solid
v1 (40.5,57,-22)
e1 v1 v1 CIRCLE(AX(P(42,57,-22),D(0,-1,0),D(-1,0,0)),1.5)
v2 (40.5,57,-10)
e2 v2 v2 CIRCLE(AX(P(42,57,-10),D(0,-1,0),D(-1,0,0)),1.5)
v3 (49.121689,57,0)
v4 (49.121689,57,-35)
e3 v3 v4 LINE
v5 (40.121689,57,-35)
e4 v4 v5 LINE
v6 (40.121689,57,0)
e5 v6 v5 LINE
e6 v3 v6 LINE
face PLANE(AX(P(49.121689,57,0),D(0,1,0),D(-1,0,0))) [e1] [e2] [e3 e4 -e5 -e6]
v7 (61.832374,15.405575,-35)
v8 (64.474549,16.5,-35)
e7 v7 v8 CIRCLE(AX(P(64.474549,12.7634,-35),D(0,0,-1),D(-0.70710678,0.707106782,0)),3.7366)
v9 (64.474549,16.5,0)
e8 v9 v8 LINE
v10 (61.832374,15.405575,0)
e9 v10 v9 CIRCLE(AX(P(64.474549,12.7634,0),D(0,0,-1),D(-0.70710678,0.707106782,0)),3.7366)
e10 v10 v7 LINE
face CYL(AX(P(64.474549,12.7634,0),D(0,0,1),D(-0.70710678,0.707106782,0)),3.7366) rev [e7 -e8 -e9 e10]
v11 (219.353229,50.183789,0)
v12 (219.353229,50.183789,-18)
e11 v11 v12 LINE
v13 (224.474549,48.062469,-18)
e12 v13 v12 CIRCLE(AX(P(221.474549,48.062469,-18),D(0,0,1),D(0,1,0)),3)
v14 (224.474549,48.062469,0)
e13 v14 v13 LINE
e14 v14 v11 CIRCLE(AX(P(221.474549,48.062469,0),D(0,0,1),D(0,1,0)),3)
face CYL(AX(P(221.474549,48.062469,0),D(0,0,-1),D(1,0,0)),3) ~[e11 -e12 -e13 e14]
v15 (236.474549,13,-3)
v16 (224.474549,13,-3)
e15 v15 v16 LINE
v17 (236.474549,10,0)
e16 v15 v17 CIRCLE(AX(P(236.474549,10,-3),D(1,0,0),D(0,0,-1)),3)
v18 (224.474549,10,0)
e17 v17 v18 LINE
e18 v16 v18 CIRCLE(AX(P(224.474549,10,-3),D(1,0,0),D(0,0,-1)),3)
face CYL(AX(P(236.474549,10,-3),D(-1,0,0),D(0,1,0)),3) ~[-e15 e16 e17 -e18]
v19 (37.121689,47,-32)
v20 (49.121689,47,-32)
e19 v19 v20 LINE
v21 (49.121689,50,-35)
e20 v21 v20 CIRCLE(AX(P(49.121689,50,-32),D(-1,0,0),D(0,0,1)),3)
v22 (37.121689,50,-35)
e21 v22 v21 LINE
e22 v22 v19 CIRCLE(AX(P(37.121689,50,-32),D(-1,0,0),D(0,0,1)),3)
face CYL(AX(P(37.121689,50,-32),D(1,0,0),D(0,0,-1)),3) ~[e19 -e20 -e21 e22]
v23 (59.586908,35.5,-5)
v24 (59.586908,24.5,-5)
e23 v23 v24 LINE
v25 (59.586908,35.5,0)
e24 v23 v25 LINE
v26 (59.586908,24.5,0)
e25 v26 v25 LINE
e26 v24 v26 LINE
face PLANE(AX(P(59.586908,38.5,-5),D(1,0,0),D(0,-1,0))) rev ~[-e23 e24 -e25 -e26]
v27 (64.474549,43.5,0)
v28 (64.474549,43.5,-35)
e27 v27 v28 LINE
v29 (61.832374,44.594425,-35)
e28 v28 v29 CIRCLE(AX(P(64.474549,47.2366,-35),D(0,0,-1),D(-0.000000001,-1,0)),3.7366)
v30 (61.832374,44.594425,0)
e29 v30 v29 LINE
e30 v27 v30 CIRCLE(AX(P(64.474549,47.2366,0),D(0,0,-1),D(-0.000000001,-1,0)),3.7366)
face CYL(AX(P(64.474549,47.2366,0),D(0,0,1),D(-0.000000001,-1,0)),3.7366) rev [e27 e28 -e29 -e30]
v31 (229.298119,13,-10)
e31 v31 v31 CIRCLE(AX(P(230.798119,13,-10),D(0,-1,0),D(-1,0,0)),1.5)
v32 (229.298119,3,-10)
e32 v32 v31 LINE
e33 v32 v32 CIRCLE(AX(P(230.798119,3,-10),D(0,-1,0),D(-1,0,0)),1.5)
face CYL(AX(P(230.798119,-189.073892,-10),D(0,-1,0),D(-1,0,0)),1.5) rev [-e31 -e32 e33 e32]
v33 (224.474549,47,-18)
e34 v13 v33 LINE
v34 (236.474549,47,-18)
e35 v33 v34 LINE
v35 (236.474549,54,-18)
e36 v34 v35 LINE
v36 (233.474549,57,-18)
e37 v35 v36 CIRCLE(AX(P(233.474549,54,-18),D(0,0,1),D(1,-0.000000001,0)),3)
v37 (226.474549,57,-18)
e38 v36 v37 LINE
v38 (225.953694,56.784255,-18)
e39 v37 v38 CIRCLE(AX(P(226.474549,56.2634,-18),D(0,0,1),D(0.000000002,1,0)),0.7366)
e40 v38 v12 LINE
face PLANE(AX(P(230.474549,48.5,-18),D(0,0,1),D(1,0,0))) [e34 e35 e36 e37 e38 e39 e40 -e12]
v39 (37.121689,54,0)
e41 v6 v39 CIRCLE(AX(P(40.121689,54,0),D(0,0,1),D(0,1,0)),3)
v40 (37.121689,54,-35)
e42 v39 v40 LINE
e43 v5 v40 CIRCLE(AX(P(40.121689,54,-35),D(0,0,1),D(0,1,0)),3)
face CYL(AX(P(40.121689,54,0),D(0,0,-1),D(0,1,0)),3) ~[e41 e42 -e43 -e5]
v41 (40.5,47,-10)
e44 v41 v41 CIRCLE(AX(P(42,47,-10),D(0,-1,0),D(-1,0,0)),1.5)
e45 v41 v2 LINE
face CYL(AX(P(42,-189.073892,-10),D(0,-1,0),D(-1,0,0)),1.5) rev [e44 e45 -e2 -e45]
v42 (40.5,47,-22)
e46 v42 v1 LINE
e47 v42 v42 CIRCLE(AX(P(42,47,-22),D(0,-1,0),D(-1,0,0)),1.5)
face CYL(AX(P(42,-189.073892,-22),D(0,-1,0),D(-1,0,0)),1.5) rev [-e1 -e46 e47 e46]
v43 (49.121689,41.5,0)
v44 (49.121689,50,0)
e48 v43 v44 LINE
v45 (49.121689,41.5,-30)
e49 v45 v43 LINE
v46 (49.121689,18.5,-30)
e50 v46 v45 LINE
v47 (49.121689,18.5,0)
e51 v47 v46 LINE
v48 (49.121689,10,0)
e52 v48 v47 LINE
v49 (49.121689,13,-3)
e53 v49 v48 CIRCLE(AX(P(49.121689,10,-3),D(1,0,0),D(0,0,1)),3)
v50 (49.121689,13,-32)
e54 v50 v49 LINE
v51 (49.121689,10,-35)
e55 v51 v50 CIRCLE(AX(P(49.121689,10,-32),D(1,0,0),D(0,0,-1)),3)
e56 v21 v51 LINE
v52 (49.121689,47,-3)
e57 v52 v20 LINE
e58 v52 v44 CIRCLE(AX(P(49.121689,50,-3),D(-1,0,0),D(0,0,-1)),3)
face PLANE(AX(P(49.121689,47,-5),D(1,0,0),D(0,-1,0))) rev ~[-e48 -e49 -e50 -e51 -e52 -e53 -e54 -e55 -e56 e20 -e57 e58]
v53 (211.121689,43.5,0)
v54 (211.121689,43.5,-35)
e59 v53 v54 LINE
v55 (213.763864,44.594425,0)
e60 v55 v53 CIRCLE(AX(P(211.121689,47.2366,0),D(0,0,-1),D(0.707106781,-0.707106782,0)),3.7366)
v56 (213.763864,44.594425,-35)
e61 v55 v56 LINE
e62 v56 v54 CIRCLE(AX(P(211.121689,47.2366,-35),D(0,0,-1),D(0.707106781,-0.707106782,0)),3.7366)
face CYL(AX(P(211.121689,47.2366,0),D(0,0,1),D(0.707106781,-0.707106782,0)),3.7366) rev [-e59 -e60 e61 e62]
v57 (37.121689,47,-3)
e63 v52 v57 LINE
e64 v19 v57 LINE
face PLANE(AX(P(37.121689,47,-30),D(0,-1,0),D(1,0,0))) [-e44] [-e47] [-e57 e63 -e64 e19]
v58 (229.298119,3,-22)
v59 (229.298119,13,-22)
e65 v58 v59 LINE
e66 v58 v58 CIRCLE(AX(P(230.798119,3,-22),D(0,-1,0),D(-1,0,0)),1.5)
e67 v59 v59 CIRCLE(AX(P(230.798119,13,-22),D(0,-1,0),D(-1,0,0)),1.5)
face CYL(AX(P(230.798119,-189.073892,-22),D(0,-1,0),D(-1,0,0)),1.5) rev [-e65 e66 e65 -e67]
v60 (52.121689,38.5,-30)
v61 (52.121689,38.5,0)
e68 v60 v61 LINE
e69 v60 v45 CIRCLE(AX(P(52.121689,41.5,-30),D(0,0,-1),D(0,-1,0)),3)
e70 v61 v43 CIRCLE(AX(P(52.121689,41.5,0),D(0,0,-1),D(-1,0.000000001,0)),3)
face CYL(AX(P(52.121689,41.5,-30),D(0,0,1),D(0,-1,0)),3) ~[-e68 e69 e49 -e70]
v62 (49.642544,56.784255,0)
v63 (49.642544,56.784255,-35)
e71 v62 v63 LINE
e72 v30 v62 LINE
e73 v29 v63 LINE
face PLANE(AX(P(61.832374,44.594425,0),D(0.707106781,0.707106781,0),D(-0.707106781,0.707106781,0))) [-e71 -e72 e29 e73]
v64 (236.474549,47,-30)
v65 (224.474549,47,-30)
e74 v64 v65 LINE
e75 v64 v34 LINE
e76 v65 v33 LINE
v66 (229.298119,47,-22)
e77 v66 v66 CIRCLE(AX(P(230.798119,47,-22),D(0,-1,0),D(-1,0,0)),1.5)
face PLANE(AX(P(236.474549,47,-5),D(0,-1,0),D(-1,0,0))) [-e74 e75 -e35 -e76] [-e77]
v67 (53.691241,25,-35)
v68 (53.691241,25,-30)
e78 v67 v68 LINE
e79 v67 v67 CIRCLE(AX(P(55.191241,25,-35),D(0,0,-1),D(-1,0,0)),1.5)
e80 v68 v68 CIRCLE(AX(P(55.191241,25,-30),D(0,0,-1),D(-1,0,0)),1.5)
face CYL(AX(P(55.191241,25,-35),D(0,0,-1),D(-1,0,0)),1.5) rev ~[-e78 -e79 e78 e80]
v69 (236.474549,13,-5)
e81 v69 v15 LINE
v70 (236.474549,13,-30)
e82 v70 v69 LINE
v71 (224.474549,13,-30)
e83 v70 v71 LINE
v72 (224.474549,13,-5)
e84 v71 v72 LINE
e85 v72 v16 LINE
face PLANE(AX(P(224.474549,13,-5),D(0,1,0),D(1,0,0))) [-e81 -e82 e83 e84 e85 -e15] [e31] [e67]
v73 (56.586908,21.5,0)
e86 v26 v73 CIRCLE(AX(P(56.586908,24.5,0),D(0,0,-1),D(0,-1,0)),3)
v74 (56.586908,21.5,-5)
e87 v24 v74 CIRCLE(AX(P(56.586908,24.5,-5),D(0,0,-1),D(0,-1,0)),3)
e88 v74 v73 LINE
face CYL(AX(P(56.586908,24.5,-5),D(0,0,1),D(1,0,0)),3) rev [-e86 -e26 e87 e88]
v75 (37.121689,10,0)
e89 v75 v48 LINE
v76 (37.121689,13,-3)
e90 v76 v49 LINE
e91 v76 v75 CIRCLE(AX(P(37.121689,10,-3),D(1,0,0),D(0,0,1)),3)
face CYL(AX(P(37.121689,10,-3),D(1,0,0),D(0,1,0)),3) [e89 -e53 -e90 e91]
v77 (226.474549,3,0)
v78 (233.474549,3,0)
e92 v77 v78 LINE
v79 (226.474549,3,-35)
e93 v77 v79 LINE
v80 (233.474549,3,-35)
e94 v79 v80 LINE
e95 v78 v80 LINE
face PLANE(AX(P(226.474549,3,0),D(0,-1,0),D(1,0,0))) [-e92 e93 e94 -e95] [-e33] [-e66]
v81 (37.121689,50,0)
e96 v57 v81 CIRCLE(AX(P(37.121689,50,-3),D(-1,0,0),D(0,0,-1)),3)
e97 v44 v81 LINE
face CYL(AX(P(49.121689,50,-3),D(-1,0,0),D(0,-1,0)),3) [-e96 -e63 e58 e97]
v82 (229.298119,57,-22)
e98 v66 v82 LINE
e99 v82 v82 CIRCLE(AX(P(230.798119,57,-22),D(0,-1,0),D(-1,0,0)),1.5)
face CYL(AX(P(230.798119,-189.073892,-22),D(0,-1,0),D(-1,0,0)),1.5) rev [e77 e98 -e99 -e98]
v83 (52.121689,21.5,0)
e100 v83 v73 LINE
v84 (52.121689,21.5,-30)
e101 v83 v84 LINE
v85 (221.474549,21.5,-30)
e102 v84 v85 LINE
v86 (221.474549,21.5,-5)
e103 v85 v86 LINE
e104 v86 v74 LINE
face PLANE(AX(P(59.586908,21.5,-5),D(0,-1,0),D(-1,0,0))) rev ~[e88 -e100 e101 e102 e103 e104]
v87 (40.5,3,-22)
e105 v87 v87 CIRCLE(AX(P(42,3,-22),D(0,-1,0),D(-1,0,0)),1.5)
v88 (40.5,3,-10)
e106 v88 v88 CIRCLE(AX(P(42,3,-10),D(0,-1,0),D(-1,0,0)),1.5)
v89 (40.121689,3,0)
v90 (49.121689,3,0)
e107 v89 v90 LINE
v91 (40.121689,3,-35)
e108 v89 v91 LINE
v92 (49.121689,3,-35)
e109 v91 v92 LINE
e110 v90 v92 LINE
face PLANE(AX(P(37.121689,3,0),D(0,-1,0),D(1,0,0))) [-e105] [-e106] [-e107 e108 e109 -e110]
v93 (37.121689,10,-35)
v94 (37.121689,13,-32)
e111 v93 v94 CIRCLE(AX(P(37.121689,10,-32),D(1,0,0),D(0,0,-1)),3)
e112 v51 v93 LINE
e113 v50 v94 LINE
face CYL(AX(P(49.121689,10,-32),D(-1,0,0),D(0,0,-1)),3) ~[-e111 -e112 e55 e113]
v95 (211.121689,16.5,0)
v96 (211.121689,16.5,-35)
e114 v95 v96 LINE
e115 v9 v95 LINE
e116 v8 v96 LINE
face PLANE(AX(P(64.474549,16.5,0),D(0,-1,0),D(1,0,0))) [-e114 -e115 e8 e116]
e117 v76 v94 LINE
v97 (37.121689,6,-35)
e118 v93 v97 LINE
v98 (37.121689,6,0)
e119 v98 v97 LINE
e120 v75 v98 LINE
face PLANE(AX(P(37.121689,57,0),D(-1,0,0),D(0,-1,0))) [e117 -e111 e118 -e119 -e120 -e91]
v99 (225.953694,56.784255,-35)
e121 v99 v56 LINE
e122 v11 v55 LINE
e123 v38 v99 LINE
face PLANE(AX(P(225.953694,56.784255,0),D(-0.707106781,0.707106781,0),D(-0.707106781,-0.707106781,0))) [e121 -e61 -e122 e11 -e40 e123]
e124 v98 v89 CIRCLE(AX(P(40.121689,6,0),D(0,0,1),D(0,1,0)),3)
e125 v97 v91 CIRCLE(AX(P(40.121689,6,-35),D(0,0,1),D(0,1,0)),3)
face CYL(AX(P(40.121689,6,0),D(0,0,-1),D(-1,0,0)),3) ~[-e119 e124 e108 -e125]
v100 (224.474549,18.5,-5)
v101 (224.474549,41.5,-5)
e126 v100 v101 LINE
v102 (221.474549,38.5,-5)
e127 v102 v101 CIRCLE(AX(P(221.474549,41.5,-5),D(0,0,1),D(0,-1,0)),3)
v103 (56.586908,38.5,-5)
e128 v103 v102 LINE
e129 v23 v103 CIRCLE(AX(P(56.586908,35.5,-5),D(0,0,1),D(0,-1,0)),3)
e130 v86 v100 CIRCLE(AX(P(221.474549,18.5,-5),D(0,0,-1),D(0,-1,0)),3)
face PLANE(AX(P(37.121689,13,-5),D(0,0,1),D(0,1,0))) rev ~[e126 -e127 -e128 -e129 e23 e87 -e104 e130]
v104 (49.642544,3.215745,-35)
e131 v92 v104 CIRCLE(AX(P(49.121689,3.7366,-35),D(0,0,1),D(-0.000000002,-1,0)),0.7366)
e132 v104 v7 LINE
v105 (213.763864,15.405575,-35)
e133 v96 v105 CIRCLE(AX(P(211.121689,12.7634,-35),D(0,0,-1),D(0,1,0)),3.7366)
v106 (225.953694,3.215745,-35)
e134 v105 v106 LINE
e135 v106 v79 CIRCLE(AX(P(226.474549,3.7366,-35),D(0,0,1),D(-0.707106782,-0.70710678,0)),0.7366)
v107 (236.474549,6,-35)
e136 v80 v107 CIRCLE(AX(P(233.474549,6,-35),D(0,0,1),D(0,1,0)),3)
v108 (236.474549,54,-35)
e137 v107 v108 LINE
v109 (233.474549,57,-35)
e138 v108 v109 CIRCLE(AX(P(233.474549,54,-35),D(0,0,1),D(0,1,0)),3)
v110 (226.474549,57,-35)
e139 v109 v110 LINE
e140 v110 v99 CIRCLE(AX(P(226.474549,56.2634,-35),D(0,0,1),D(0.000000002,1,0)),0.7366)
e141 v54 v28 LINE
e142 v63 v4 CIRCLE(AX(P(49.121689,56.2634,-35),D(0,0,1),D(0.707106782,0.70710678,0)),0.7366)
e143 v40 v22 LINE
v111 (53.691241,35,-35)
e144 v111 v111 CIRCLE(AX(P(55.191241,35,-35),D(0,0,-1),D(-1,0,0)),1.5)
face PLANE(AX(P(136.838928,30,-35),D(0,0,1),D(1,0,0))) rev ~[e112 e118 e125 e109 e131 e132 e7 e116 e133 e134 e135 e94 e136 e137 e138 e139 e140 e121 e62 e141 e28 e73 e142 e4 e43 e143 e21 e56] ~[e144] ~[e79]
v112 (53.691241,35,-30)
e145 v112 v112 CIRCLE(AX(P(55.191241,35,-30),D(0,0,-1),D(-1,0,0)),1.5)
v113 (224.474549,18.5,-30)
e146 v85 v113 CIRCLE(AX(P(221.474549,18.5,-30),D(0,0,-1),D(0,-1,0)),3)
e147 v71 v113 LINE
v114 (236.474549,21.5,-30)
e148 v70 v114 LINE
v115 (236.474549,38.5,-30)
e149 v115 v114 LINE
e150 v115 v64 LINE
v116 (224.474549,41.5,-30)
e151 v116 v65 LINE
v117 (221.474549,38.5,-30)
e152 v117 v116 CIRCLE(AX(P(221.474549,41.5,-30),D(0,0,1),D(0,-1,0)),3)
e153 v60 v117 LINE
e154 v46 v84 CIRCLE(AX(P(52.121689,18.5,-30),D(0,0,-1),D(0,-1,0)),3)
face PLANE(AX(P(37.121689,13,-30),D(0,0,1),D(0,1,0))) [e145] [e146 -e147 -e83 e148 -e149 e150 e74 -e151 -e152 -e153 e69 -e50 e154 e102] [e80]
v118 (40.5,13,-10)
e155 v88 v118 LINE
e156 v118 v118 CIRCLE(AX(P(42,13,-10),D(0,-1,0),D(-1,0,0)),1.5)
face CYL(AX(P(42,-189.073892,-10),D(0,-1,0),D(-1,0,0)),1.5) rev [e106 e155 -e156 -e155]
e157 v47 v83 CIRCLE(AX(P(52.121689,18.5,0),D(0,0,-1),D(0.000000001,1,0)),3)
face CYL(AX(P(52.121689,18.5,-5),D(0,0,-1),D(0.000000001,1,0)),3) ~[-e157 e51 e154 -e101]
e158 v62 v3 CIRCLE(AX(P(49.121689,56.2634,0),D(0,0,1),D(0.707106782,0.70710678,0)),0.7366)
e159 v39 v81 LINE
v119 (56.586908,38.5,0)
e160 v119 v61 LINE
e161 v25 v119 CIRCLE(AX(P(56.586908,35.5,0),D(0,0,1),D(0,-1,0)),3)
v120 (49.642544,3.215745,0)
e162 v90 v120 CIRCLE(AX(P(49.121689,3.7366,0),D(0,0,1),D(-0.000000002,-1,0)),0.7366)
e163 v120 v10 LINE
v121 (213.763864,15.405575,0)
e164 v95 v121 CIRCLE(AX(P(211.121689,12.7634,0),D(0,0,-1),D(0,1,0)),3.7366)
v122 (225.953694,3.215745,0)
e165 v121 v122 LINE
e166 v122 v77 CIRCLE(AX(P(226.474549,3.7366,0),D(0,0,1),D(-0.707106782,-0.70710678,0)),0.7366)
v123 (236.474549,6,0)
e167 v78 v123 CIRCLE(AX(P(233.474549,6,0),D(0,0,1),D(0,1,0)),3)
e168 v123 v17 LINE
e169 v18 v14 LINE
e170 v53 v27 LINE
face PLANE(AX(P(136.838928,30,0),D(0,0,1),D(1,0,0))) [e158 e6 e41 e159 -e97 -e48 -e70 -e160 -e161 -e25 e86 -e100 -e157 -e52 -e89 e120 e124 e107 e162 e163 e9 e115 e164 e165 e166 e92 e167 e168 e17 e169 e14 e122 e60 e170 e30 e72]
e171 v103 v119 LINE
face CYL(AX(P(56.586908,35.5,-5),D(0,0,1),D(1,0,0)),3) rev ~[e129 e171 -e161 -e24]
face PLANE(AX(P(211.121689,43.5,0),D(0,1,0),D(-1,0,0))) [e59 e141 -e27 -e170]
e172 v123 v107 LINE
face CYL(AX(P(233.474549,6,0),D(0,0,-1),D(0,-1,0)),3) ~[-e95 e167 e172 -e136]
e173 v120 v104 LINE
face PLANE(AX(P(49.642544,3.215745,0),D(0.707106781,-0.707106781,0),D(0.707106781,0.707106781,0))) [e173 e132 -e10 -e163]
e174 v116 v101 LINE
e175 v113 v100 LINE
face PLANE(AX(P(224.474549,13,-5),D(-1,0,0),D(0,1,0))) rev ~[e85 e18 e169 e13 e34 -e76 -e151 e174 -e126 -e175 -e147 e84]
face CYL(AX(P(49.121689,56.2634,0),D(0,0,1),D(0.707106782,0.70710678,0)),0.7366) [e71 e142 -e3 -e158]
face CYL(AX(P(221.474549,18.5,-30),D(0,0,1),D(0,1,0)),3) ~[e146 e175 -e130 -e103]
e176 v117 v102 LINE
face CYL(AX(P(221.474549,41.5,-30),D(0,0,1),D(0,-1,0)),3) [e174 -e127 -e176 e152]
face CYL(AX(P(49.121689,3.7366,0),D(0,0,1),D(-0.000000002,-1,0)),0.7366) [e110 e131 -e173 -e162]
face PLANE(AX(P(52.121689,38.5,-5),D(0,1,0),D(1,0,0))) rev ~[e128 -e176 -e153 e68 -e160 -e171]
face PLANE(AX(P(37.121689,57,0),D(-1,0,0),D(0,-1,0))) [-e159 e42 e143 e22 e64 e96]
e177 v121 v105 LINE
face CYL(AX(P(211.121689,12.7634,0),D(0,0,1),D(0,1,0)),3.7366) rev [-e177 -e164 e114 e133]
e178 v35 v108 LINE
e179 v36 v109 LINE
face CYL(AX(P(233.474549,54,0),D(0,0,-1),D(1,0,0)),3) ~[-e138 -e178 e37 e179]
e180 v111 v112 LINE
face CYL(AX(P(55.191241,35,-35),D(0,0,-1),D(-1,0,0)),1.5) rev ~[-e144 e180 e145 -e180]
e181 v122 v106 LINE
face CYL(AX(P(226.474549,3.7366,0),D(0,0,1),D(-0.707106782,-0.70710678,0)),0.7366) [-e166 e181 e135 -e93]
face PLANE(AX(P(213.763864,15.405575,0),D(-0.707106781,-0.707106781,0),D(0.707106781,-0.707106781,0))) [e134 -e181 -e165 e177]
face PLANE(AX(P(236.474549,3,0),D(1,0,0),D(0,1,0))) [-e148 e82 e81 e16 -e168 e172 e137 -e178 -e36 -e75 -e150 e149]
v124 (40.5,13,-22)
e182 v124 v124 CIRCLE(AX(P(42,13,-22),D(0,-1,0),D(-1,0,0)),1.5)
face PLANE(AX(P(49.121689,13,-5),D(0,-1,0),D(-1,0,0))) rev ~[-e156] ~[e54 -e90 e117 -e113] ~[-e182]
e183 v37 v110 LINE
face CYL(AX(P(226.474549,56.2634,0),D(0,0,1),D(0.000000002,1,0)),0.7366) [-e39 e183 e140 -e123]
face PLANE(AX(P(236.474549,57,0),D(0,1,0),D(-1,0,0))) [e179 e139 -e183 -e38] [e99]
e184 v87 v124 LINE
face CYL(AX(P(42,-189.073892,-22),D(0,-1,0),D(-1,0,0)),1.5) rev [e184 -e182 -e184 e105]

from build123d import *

# Parameters (mm, degrees)
EXTRUDE_1_DEPTH          = 35
SKETCH_2_W               = 25
SKETCH_2_H               = 17
CUT_EXTRUDE_1_DEPTH      = 211.274969583
SKETCH_3_W               = 25
SKETCH_3_H               = 8.5
CUT_EXTRUDE_2_DEPTH      = 12
FILLET_1_R               = 3
CUT_EXTRUDE_3_DEPTH      = 246.07389189
CUT_EXTRUDE_3_DEPTH_BACK = 246.07389189
SKETCH_4_R               = 1.5
CUT_EXTRUDE_4_DEPTH      = 10
FILLET_2_R               = 3
SKETCH_7_W               = 12
SKETCH_7_H               = 3
CUT_EXTRUDE_6_DEPTH      = 18
FILLET_3_R               = 3
CUT_EXTRUDE_8_DEPTH      = 10
FILLET_4_R               = 3
SKETCH_9_R               = 1.5
CUT_EXTRUDE_9_DEPTH      = 8
CUT_EXTRUDE_10_DEPTH     = 8
FILLET_5_R               = 3


with BuildPart() as part:
    # 草图1 → 凸台-拉伸1 (new body)
    with BuildSketch(Plane.XY):
        with BuildLine():
            Line((49.121689234, 57), (37.121689234, 57))
            Line((37.121689234, 57), (37.121689234, 3))
            Line((37.121689234, 3), (49.121689234, 3))
            ThreePointArc((49.121689234, 3), (49.40357385, 3.056070336), (49.642544089, 3.215745145))
            Line((49.642544089, 3.215745145), (61.832374142, 15.405575199))
            ThreePointArc((61.832374142, 15.405575199), (63.044614428, 16.215568261), (64.474549341, 16.5))
            Line((64.474549341, 16.5), (211.121689234, 16.5))
            ThreePointArc((211.121689234, 16.5), (212.551624147, 16.215568261), (213.763864432, 15.405575199))
            Line((213.763864432, 15.405575199), (225.953694486, 3.215745145))
            ThreePointArc((225.953694486, 3.215745145), (226.192664725, 3.056070336), (226.474549341, 3))
            Line((226.474549341, 3), (236.474549341, 3))
            Line((236.474549341, 3), (236.474549341, 57))
            Line((236.474549341, 57), (226.474549341, 57))
            ThreePointArc((226.474549341, 57), (226.192664725, 56.943929664), (225.953694486, 56.784254855))
            Line((225.953694486, 56.784254855), (213.763864432, 44.594424801))
            ThreePointArc((213.763864432, 44.594424801), (212.551624147, 43.784431739), (211.121689234, 43.5))
            Line((211.121689234, 43.5), (64.474549341, 43.5))
            ThreePointArc((64.474549341, 43.5), (63.044614428, 43.784431739), (61.832374142, 44.594424801))
            Line((61.832374142, 44.594424801), (49.642544089, 56.784254855))
            ThreePointArc((49.642544089, 56.784254855), (49.40357385, 56.943929664), (49.121689234, 57))
        make_face()
    extrude(amount=-EXTRUDE_1_DEPTH)

    # 草图2 → 切除-拉伸1 (cut, through all)
    with BuildSketch(Plane.ZY.offset(-37.121689234)):
        with Locations((-17.5, 30)):
            Rectangle(SKETCH_2_W, SKETCH_2_H)
    extrude(amount=-CUT_EXTRUDE_1_DEPTH, mode=Mode.SUBTRACT)

    # 草图3 → 切除-拉伸2 (cut)
    with BuildSketch(Plane.ZY.offset(-37.121689234)):
        with Locations((-17.5, 42.75)):
            Rectangle(SKETCH_3_W, SKETCH_3_H)
        with Locations((-17.5, 17.25)):
            Rectangle(SKETCH_3_W, SKETCH_3_H)
    cut_extrude_2 = extrude(amount=-CUT_EXTRUDE_2_DEPTH, mode=Mode.SUBTRACT)

    # 镜向1: 切除-拉伸2 across plane
    add(cut_extrude_2.mirror(Plane.ZY.offset(-136.798119287)), mode=Mode.SUBTRACT)

    # 圆角1
    fillet_1_edges = [part.edges().sort_by_distance(p)[0] for p in [
        (224.474549341, 38.5, -17.5),
        (224.474549341, 21.5, -17.5),
        (37.121689234, 3, -17.5),
        (37.121689234, 57, -17.5),
        (236.474549341, 57, -17.5),
        (236.474549341, 3, -17.5),
        (49.121689234, 38.5, -17.5),
        (49.121689234, 21.5, -17.5),
    ]]
    fillet(fillet_1_edges, radius=FILLET_1_R)

    # 草图4 → 切除-拉伸3 (cut, two sides: drawn at the far end of the back side and taken through both)
    with BuildSketch(Plane(origin=(0, 57, 0), x_dir=(1, 0, 0), z_dir=(0, 1, 0)).offset(-CUT_EXTRUDE_3_DEPTH_BACK)):
        with Locations(Location((42, 22, 0), (0, 0, 180))):
            Circle(SKETCH_4_R)
        with Locations(Location((42, 10, 0), (0, 0, 180))):
            Circle(SKETCH_4_R)
        with Locations(Location((230.798119287, 22, 0), (0, 0, 180))):
            Circle(SKETCH_4_R)
        with Locations(Location((230.798119287, 10, 0), (0, 0, 180))):
            Circle(SKETCH_4_R)
    extrude(amount=CUT_EXTRUDE_3_DEPTH + CUT_EXTRUDE_3_DEPTH_BACK, mode=Mode.SUBTRACT)

    # 草图5 → 切除-拉伸4 (cut)
    with BuildSketch(Plane(origin=(0, 0, -5), x_dir=(-1, 0, 0), z_dir=(0, 0, -1))):
        Polygon((-224.474549341, 41.5), (-224.474549341, 18.5), (-224.474549341, 13), (-236.474549341, 13), (-236.474549341, 47), (-224.474549341, 47), align=None)
        Polygon((-49.121689234, 41.5), (-49.121689234, 18.5), (-49.121689234, 13), (-37.121689234, 13), (-37.121689234, 47), (-49.121689234, 47), align=None)
    extrude(amount=-CUT_EXTRUDE_4_DEPTH, mode=Mode.SUBTRACT)

    # 圆角2
    fillet_2_edges = [part.edges().sort_by_distance(p)[0] for p in [
        (230.474549341, 13, 0),
        (230.474549341, 47, 0),
        (43.121689234, 47, 0),
        (43.121689234, 13, 0),
    ]]
    fillet(fillet_2_edges, radius=FILLET_2_R)

    # 草图7 → 切除-拉伸6 (cut)
    with BuildSketch(Plane.XY):
        with Locations((230.474549341, 48.5)):
            Rectangle(SKETCH_7_W, SKETCH_7_H)
        with BuildLine():
            Line((224.474549341, 50), (236.474549341, 50))
            Line((236.474549341, 50), (236.474549341, 54))
            ThreePointArc((236.474549341, 54), (235.595869685, 56.121320344), (233.474549341, 57))
            Line((233.474549341, 57), (226.474549341, 57))
            ThreePointArc((226.474549341, 57), (226.192664725, 56.943929664), (225.953694486, 56.784254855))
            Line((225.953694486, 56.784254855), (224.474549341, 55.30510971))
            Line((224.474549341, 55.30510971), (224.474549341, 50))
        make_face()
    extrude(amount=-CUT_EXTRUDE_6_DEPTH, mode=Mode.SUBTRACT)

    # 圆角3
    fillet_3_edges = [part.edges().sort_by_distance(p)[0] for p in [
        (224.474549341, 55.30510971, -9),
    ]]
    fillet(fillet_3_edges, radius=FILLET_3_R)

    # 草图8 → 切除-拉伸8 (cut)
    with BuildSketch(Plane.XY.offset(-30)):
        Polygon((49.121689234, 41.5), (49.121689234, 18.5), (49.121689234, 13), (37.121689234, 13), (37.121689234, 47), (49.121689234, 47), align=None)
    extrude(amount=-CUT_EXTRUDE_8_DEPTH, mode=Mode.SUBTRACT)

    # 圆角4
    fillet_4_edges = [part.edges().sort_by_distance(p)[0] for p in [
        (43.121689234, 13, -35),
        (43.121689234, 47, -35),
    ]]
    fillet(fillet_4_edges, radius=FILLET_4_R)

    # 草图9 → 切除-拉伸9 (cut)
    with BuildSketch(Plane(origin=(0, 0, -35), x_dir=(-1, 0, 0), z_dir=(0, 0, -1))):
        with Locations((-55.191240802, 25)):
            Circle(SKETCH_9_R)
        with Locations((-55.191240802, 35)):
            Circle(SKETCH_9_R)
    extrude(amount=-CUT_EXTRUDE_9_DEPTH, mode=Mode.SUBTRACT)

    # 草图10 → 切除-拉伸10 (cut)
    with BuildSketch(Plane(origin=(0, 0, -5), x_dir=(-1, 0, 0), z_dir=(0, 0, -1))):
        with BuildLine():
            Line((-52.121689234, 38.5), (-59.586907824, 38.5))
            Line((-59.586907824, 38.5), (-59.586907824, 21.5))
            Line((-59.586907824, 21.5), (-52.121689234, 21.5))
            ThreePointArc((-52.121689234, 21.5), (-50.00036889, 20.621320344), (-49.121689234, 18.5))
            Line((-49.121689234, 18.5), (-49.121689234, 41.5))
            ThreePointArc((-49.121689234, 41.5), (-50.00036889, 39.378679656), (-52.121689234, 38.5))
        make_face()
    extrude(amount=-CUT_EXTRUDE_10_DEPTH, mode=Mode.SUBTRACT)

    # 圆角5
    fillet_5_edges = [part.edges().sort_by_distance(p)[0] for p in [
        (59.586907824, 38.5, -2.5),
        (59.586907824, 21.5, -2.5),
    ]]
    fillet(fillet_5_edges, radius=FILLET_5_R)


solid = part.part
